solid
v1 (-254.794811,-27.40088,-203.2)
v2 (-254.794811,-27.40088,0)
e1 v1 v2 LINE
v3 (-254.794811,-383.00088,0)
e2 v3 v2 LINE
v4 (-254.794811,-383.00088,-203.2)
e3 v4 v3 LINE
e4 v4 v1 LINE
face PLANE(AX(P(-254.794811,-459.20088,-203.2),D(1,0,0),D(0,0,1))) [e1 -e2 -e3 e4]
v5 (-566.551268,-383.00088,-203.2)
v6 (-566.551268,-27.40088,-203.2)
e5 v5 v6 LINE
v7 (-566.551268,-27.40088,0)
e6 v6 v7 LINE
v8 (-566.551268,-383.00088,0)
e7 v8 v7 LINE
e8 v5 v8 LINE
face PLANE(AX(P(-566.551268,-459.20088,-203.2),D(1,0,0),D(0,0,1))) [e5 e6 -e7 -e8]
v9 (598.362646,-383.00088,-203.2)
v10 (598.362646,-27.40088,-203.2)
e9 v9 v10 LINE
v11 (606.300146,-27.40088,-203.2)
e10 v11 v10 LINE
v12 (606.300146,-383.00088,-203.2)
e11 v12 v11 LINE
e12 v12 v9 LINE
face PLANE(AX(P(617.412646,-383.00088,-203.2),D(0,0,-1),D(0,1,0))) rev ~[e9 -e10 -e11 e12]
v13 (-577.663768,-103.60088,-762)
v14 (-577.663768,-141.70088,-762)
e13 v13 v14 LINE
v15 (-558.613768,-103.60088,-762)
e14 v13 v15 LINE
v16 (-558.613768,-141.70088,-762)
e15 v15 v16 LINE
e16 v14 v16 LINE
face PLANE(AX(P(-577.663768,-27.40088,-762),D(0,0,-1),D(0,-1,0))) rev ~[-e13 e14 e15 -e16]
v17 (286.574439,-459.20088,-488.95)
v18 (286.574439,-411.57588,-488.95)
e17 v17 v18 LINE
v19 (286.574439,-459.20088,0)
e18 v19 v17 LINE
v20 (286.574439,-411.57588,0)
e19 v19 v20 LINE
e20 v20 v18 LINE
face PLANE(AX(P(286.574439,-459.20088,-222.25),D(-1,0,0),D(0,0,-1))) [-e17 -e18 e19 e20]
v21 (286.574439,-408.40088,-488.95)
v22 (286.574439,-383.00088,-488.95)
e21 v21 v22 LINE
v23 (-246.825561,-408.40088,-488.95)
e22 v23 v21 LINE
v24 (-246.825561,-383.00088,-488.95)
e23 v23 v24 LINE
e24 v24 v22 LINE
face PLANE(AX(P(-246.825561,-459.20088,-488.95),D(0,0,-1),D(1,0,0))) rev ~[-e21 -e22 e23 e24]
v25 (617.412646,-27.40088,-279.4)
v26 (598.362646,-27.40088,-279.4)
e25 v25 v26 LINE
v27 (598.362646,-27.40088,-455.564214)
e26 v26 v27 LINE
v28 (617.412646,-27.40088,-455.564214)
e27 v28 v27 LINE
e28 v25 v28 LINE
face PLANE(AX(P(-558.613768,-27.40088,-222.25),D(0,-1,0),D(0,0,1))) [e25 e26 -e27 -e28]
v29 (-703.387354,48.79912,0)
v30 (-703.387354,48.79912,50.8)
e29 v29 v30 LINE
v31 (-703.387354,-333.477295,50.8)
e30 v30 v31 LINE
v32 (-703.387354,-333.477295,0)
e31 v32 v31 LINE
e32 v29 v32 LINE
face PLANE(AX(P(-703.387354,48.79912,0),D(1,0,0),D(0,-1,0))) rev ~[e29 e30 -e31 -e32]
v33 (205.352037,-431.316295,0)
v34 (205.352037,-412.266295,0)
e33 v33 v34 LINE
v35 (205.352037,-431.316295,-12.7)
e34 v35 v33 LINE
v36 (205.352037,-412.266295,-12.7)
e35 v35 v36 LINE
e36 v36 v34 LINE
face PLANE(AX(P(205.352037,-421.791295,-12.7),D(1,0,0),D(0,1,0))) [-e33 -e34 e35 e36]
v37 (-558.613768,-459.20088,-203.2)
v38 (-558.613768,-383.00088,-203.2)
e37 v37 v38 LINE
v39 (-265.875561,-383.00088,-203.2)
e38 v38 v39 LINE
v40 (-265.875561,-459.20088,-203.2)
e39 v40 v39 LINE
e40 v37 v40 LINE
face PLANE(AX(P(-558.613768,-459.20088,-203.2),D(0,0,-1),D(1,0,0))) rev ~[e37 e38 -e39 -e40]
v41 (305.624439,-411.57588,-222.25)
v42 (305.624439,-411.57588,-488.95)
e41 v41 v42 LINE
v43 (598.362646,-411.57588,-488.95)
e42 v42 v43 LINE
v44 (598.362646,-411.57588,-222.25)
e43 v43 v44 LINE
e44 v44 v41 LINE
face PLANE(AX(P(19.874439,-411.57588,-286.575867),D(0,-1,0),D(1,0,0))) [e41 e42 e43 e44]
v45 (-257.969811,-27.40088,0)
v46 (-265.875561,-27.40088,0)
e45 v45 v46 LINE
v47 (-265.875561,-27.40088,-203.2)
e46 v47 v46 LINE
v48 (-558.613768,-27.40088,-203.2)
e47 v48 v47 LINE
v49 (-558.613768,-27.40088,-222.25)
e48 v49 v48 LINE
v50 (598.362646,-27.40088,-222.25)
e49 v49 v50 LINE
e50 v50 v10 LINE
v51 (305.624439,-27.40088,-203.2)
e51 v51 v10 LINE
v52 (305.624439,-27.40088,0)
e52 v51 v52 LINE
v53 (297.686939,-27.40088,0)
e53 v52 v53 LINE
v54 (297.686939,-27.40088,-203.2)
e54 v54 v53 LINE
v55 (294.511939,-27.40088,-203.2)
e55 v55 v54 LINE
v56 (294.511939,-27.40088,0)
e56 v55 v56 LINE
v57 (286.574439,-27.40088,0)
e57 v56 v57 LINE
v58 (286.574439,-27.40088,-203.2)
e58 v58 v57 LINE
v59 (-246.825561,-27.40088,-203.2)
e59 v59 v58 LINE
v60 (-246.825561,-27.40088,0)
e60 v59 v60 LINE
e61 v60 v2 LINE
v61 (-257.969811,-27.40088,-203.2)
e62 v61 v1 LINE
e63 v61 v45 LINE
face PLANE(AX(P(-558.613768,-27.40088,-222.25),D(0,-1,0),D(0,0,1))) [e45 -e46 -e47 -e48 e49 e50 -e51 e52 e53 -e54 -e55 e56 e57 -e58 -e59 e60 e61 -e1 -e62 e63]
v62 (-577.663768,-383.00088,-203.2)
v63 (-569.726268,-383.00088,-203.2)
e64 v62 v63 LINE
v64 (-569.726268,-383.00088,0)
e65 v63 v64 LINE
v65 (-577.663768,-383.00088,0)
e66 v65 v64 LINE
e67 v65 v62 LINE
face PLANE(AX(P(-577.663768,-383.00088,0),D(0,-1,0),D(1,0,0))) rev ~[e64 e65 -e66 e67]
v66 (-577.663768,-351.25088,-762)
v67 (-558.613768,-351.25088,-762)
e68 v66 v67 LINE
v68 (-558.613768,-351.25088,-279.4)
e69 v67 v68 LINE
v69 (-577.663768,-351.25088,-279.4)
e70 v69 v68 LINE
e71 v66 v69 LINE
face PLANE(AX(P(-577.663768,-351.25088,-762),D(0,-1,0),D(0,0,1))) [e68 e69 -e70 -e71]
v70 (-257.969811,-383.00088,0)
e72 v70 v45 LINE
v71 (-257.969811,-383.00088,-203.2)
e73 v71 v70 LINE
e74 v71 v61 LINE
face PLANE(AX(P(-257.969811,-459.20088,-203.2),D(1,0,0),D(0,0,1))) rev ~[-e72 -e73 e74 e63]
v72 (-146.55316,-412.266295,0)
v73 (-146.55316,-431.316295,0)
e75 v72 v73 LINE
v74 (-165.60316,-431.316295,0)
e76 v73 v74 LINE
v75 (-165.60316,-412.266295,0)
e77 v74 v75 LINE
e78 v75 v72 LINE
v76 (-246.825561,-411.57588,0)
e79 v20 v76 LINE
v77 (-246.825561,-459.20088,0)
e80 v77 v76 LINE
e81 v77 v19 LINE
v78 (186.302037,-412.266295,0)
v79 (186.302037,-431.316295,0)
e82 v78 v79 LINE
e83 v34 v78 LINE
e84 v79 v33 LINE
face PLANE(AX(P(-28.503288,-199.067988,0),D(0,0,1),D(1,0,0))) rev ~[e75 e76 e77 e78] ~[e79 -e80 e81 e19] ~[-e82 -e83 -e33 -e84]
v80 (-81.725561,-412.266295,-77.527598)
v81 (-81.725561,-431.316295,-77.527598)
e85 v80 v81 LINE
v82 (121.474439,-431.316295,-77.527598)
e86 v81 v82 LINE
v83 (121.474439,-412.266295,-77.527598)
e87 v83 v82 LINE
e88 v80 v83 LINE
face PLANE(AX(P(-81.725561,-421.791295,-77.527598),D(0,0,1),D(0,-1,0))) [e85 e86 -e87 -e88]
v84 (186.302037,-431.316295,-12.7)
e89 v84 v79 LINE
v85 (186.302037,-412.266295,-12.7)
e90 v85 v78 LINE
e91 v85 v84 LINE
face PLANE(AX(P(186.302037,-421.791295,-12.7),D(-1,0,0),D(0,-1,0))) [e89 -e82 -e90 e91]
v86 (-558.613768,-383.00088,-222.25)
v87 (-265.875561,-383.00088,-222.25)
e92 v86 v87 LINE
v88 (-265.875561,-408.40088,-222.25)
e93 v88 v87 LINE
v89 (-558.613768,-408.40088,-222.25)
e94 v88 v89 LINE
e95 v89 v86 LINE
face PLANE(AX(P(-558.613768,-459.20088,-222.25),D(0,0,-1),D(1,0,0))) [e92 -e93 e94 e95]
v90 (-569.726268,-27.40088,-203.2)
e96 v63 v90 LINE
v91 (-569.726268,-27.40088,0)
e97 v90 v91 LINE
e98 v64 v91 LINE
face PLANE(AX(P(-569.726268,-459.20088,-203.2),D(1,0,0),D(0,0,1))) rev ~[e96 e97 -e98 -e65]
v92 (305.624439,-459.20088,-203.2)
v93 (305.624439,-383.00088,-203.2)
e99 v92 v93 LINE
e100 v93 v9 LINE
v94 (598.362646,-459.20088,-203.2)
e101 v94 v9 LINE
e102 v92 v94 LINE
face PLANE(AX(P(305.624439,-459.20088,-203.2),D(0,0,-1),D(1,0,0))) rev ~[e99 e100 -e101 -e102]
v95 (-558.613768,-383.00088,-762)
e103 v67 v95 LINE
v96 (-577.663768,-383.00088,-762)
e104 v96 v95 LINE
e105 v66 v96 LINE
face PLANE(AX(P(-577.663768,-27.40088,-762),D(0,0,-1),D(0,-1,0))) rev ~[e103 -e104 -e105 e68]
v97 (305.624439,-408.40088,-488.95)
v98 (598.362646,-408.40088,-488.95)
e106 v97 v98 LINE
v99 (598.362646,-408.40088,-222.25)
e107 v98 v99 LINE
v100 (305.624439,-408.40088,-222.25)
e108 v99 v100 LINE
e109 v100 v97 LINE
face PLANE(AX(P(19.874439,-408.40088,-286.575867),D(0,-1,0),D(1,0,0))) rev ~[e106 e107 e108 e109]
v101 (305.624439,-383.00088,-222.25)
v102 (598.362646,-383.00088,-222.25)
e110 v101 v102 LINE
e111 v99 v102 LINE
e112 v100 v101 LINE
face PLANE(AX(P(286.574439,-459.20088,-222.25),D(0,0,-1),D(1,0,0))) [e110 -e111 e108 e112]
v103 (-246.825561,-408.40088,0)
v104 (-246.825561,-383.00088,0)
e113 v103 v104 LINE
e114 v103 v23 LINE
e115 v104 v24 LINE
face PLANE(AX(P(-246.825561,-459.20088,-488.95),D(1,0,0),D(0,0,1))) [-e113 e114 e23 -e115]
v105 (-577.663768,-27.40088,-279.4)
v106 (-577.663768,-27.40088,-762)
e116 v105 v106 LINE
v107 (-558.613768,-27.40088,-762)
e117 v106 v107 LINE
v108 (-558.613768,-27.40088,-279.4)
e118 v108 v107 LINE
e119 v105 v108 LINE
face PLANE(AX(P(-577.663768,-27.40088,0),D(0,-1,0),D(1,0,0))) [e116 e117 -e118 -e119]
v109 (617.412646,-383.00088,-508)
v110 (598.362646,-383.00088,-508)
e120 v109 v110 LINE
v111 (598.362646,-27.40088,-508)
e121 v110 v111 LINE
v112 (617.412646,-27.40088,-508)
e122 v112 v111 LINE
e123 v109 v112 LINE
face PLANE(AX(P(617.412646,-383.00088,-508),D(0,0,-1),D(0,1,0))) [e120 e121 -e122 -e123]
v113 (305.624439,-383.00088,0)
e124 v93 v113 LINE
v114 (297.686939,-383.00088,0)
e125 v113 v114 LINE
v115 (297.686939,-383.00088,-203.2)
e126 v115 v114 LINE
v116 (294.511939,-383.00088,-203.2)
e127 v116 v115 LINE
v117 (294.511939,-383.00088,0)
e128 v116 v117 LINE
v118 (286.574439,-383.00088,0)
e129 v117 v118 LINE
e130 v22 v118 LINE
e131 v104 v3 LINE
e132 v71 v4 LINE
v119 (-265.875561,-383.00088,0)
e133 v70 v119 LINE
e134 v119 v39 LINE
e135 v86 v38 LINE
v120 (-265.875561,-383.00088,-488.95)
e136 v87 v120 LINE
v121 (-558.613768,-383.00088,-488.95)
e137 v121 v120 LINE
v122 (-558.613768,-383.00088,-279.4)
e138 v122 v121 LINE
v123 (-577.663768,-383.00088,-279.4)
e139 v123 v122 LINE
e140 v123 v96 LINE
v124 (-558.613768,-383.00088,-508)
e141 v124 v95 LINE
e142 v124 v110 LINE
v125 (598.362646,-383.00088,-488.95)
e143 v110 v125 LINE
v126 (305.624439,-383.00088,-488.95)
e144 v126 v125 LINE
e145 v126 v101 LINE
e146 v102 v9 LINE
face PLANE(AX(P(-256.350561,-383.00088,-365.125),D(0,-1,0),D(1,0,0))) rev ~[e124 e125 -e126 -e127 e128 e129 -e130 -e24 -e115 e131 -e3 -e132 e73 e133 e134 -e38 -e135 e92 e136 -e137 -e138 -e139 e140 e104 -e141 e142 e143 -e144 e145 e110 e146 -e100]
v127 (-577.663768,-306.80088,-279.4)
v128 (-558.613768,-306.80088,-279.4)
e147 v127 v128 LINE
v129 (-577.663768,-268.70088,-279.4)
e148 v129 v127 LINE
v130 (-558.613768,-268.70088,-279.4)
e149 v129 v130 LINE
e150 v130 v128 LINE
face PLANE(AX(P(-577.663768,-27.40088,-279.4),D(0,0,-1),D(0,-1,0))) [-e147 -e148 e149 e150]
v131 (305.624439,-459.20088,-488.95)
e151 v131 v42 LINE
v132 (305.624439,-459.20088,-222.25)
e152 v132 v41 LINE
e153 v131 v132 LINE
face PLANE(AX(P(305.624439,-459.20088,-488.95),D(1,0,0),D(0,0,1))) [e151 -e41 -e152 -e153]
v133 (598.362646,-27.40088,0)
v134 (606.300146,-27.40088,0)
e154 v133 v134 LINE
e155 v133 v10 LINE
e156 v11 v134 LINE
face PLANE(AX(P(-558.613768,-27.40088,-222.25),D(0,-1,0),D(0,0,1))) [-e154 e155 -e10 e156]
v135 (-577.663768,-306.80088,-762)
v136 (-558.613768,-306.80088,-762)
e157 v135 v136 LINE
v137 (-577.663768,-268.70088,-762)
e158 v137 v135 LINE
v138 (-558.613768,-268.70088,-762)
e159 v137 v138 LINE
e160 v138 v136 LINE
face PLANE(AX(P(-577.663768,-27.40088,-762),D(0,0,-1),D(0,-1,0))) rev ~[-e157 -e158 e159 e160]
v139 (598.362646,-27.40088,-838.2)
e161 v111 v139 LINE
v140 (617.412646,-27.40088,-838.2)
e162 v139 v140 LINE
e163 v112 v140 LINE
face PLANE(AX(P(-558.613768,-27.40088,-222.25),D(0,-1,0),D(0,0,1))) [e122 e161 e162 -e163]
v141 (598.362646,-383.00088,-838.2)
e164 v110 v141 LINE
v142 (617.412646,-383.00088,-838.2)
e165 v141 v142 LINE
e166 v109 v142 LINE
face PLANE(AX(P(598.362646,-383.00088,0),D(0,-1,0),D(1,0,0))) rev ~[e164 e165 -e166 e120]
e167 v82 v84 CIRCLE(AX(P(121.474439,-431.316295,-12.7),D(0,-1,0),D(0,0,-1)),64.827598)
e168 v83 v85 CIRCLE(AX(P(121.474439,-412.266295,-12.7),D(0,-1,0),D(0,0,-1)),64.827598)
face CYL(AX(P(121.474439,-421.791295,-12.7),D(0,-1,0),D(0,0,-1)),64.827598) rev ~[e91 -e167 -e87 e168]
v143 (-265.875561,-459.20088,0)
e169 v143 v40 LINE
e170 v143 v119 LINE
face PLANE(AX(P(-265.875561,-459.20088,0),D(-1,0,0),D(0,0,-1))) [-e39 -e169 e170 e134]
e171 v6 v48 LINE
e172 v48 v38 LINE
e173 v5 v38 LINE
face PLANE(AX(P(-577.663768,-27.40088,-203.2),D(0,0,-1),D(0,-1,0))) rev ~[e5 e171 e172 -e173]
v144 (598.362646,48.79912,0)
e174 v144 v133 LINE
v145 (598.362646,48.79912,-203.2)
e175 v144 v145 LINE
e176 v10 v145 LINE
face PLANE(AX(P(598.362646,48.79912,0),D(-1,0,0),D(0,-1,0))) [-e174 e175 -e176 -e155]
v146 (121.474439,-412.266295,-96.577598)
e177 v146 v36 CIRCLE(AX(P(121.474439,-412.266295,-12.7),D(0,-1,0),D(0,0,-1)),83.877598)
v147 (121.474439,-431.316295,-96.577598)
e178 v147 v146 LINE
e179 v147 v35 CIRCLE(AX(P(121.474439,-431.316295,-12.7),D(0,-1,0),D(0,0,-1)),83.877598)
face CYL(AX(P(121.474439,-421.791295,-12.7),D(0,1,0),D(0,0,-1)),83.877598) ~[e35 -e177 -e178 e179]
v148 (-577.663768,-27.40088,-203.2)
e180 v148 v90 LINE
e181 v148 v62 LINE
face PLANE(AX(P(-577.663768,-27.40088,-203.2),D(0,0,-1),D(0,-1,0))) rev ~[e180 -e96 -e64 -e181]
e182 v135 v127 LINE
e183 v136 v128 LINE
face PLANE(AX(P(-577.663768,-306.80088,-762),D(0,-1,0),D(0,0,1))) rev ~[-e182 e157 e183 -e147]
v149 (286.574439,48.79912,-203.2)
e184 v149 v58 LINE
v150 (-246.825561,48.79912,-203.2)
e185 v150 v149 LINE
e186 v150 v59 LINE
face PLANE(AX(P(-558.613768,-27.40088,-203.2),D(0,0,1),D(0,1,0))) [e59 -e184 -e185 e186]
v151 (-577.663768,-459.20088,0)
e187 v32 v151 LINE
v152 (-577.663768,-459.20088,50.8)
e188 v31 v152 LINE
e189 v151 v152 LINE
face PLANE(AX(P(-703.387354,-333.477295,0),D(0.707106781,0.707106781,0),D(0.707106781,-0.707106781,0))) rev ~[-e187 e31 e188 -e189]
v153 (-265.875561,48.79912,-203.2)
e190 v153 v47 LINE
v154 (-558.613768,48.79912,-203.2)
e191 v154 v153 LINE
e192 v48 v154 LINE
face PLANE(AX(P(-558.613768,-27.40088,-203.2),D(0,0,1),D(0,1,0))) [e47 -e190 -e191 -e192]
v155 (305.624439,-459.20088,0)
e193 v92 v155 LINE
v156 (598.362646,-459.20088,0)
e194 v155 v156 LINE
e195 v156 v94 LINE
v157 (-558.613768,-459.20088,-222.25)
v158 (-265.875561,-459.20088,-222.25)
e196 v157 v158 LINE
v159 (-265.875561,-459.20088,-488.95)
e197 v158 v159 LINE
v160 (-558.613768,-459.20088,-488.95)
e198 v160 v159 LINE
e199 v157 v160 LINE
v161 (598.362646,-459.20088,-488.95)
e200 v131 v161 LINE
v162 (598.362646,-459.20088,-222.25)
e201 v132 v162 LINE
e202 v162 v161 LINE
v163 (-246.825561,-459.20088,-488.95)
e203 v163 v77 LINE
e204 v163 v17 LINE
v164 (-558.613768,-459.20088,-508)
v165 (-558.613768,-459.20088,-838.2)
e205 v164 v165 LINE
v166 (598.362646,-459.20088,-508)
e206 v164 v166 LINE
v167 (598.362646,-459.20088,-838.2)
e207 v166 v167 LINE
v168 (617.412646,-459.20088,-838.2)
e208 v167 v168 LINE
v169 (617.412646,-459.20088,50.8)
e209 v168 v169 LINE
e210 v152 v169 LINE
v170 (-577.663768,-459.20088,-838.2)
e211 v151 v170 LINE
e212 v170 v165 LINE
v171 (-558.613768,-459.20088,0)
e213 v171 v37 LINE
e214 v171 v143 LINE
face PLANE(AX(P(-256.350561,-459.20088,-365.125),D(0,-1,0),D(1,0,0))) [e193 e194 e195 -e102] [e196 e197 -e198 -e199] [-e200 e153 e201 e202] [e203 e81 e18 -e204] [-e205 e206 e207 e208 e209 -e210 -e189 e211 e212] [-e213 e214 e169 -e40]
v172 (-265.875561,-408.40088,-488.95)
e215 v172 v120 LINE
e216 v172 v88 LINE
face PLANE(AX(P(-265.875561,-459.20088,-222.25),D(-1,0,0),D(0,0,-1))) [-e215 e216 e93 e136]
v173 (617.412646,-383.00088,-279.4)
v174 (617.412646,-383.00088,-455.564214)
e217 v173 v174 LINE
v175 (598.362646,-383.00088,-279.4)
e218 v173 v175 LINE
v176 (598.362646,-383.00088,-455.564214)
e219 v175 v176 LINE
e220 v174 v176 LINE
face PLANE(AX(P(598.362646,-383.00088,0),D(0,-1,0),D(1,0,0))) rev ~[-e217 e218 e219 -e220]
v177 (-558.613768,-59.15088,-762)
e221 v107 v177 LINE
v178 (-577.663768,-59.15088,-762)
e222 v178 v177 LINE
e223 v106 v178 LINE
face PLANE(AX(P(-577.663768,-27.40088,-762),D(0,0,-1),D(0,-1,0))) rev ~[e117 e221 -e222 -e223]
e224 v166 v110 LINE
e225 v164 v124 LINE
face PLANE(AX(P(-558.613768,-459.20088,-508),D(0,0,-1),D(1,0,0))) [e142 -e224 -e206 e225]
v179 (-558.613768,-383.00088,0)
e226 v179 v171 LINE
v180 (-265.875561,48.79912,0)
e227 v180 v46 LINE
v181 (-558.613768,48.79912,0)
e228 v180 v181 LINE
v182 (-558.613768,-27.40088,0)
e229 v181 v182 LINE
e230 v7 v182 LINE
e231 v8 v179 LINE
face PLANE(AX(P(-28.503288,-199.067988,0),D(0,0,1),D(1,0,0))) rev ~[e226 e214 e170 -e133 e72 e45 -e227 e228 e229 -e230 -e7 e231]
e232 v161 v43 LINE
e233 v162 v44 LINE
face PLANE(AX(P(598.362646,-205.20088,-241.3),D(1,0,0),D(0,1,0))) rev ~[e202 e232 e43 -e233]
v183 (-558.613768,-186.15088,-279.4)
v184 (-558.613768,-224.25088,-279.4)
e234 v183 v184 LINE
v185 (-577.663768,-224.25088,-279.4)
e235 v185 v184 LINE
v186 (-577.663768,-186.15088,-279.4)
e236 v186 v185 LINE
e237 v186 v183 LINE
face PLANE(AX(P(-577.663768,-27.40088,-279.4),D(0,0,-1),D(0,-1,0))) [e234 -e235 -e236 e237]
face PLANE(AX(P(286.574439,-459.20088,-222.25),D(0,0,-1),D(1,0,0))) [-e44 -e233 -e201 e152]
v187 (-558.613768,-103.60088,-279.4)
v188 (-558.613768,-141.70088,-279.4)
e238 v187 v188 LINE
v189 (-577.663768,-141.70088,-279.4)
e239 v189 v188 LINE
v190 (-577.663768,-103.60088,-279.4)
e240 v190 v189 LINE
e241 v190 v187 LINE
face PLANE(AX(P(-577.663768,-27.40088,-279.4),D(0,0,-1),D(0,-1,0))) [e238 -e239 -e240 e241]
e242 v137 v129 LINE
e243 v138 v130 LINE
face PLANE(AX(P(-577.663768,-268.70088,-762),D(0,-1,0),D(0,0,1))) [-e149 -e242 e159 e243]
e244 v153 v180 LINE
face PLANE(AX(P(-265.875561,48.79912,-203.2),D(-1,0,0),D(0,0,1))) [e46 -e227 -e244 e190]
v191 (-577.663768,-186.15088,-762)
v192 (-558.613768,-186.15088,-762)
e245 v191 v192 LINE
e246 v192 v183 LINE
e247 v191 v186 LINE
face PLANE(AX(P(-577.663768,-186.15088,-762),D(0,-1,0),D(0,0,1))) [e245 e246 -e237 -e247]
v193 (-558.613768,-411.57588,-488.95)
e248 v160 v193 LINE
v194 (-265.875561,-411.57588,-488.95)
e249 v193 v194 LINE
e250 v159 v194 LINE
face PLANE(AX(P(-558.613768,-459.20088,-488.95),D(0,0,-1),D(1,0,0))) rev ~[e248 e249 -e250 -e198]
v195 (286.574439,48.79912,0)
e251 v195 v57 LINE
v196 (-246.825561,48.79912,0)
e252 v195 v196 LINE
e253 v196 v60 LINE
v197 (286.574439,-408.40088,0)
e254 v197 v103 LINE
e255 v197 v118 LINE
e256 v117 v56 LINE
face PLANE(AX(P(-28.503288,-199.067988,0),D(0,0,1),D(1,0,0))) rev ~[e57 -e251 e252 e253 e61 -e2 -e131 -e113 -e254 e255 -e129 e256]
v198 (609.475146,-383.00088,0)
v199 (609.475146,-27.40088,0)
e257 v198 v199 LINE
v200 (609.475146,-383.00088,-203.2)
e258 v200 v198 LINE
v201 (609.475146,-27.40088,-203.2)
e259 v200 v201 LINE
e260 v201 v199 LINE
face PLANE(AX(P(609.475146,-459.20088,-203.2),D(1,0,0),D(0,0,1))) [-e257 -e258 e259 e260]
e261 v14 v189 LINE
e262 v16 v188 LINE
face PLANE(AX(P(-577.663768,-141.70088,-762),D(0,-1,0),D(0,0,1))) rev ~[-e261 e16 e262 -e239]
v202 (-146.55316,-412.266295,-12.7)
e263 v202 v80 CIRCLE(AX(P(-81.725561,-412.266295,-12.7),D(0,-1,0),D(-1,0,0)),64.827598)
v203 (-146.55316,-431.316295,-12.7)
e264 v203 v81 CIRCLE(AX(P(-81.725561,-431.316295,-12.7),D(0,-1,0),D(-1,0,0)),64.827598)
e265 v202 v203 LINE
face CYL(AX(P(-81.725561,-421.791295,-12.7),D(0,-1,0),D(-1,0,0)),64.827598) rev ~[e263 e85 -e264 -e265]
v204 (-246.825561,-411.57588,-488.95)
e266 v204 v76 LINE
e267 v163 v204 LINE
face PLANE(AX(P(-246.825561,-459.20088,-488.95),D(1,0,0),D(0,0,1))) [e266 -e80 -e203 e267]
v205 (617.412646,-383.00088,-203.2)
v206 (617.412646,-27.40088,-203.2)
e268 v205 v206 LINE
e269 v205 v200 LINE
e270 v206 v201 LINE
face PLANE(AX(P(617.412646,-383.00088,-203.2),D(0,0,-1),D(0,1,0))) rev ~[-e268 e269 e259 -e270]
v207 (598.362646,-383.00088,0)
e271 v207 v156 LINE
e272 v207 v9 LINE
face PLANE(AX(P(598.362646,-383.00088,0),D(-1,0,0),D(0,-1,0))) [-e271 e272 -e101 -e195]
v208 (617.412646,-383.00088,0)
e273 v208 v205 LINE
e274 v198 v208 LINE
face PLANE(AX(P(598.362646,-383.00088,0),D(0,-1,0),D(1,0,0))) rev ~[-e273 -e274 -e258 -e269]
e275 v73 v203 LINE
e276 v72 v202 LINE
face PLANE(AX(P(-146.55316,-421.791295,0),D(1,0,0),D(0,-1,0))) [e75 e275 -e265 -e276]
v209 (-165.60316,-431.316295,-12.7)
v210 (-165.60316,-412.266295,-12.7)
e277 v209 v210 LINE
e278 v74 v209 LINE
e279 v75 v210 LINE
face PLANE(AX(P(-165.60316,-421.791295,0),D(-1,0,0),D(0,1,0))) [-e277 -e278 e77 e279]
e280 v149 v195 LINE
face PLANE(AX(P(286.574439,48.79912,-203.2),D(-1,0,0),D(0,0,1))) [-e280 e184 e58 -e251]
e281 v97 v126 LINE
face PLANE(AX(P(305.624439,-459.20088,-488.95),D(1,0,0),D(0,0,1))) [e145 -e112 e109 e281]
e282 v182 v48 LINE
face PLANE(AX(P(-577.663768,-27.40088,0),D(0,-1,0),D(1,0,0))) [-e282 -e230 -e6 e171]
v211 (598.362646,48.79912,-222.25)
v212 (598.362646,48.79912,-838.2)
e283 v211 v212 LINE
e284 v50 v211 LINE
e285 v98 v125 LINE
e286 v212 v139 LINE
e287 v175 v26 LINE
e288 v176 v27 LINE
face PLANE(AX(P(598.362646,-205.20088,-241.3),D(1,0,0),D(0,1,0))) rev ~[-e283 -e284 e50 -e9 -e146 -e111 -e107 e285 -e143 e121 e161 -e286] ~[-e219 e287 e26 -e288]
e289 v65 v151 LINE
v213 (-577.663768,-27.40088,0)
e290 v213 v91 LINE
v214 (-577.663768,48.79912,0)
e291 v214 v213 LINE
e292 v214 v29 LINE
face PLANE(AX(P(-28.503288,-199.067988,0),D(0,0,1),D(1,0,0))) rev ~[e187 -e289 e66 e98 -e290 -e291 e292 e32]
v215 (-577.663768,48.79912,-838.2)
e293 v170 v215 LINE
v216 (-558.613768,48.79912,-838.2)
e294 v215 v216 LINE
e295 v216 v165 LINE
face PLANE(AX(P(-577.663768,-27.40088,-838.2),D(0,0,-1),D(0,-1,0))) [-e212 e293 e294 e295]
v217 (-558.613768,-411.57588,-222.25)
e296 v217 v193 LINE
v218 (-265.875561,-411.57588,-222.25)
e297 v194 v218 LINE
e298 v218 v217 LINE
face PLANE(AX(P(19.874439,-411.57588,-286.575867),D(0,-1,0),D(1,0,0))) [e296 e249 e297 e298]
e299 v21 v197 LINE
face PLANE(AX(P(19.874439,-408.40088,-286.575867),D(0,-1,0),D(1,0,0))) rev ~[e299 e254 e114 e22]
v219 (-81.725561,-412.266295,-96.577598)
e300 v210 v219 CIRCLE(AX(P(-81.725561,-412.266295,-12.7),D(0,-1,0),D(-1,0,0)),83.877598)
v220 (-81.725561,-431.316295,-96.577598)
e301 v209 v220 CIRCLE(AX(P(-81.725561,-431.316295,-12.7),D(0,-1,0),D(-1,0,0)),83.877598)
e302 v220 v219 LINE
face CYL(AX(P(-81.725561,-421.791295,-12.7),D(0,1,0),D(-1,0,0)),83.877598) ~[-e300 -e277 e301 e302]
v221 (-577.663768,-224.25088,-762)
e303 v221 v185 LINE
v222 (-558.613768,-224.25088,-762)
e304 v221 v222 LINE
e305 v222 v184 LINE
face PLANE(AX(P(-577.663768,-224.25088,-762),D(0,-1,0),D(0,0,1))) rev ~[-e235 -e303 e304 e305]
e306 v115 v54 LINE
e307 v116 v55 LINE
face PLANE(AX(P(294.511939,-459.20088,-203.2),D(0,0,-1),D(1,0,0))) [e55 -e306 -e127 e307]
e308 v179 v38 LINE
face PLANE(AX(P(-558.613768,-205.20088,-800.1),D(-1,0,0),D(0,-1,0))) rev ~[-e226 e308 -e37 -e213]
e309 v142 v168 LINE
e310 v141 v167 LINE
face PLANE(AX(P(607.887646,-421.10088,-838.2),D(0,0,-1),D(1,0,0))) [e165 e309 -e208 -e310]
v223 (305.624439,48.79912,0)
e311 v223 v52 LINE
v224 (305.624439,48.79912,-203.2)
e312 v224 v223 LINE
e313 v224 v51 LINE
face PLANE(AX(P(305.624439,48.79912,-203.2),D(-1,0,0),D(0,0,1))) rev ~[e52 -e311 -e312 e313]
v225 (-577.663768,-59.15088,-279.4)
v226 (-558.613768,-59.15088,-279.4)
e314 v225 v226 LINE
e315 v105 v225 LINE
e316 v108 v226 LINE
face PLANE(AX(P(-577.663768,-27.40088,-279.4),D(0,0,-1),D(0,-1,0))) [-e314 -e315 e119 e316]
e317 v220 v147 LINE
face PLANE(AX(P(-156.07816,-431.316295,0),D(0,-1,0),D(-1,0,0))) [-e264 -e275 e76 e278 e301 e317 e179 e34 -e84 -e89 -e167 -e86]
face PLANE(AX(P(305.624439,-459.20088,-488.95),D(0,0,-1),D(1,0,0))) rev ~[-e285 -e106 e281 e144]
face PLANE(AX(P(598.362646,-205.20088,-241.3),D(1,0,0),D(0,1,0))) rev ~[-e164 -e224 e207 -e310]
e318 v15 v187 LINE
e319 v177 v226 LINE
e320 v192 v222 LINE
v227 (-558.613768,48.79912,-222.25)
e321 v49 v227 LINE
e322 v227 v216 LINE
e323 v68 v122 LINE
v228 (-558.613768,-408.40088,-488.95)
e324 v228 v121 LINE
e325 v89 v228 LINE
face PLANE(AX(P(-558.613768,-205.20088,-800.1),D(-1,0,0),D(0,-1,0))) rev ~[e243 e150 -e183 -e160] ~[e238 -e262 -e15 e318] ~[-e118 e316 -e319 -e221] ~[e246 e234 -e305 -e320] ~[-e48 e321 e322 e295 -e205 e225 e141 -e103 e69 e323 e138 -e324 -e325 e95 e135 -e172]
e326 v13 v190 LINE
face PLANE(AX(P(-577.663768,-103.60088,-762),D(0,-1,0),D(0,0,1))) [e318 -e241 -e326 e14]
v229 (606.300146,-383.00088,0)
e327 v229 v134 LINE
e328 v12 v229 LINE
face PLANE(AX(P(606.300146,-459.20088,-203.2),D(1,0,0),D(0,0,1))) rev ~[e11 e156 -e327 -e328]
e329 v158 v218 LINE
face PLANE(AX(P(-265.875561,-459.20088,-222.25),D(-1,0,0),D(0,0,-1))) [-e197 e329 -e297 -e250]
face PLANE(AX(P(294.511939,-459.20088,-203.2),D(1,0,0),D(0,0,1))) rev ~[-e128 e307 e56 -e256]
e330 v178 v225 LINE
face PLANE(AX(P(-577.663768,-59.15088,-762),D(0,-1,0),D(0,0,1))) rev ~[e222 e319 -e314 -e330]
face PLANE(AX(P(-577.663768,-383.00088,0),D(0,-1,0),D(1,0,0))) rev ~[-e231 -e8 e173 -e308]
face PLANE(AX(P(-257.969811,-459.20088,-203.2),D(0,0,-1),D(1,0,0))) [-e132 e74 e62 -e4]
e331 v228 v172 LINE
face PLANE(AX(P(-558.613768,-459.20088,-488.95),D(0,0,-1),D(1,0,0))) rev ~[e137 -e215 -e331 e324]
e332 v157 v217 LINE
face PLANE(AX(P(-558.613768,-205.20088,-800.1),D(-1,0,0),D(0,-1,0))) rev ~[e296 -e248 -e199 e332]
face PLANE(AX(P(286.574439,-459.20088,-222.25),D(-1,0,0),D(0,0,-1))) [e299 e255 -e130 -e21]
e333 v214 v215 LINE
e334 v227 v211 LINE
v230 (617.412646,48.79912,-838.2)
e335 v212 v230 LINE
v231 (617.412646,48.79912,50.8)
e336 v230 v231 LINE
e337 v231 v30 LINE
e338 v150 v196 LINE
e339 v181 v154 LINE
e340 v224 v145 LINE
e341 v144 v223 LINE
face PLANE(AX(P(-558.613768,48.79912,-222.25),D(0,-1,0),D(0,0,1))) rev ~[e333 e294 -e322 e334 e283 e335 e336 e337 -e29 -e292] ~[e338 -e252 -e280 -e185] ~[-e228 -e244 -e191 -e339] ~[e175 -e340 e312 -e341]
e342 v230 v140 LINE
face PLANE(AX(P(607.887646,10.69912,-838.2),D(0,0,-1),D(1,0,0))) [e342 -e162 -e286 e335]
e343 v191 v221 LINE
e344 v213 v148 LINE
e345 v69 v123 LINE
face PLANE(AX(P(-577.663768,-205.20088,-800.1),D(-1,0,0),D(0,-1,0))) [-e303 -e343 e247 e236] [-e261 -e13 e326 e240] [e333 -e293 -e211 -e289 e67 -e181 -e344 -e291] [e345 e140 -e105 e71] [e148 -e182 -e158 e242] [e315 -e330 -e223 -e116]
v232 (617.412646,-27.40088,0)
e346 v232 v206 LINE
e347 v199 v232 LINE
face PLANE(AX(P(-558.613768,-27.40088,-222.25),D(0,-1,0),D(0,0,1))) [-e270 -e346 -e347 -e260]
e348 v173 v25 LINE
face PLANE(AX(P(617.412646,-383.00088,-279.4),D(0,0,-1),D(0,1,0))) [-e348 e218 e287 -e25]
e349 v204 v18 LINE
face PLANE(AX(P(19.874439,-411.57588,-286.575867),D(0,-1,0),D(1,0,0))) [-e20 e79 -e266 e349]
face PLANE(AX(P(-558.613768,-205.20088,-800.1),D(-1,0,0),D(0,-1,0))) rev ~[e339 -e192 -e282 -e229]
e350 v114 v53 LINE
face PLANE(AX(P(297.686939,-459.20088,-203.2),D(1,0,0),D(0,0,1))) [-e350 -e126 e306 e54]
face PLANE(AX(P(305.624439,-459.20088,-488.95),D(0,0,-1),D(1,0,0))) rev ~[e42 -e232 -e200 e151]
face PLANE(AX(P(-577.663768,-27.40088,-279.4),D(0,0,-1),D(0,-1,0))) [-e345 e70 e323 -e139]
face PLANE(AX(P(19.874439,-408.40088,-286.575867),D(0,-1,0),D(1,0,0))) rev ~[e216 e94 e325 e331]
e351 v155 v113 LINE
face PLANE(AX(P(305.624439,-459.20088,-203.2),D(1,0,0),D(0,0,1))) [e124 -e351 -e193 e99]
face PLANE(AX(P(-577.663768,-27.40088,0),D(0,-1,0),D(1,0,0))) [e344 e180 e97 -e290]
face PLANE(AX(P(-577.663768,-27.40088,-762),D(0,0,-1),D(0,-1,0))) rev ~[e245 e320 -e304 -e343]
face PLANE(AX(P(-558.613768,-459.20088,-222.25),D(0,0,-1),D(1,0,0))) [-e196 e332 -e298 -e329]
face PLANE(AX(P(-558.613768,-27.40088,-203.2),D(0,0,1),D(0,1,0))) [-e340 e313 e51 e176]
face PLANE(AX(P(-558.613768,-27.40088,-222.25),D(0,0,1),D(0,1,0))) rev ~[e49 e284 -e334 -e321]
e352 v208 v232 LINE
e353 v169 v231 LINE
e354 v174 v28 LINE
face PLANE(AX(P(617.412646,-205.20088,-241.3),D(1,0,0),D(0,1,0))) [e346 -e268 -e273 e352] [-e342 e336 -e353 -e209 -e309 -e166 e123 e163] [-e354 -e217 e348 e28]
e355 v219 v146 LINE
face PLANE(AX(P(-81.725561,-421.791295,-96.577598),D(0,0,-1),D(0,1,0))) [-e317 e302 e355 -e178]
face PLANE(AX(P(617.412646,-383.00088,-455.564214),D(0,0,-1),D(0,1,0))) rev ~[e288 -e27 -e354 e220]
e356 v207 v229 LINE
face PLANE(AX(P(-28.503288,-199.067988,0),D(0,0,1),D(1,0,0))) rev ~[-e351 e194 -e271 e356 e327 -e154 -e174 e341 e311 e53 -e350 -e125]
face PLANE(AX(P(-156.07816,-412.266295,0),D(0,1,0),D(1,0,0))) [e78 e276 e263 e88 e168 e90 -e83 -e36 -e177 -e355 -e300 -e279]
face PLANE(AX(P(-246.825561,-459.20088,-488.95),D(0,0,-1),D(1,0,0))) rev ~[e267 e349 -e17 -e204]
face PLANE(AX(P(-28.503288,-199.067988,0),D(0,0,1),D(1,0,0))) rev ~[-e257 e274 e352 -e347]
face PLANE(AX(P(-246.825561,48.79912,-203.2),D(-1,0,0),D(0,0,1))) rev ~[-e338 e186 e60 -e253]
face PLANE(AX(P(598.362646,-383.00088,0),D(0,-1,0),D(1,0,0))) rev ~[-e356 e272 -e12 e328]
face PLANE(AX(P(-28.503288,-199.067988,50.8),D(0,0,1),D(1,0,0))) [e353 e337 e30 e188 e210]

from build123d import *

# Parameters (mm, degrees)
F1_DEPTH  = 50.8
F2_W      = 19.05
F2_H      = 76.2
F3_DEPTH  = 838.2
F4_W      = 355.6
F4_H      = 76.2
F5_DEPTH  = 19.05
F6_W      = 44.45
F6_H      = 482.6
F7_DEPTH  = 19.05
F9_W      = 76.2
F9_H      = 19.05
F10_DEPTH = 1156.976414305
F8_W      = 292.7382071525
F8_H      = 19.05
F11_DEPTH = 76.2
F12_W     = 19.05
F12_H     = 203.2
F13_DEPTH = 76.2
F14_W     = 3.175
F14_H     = 203.2
F15_DEPTH = 431.8
F16_W     = 355.6
F16_H     = 76.2
F16_H_2   = 52.435785675
F17_DEPTH = 19.05
F20_W     = 19.05
F20_H     = 19.05
F22_W     = 533.4
F22_H     = 19.05
F22_W_2   = 292.7382071525
F23_DEPTH = 76.2
F25_DEPTH = 3.175


with BuildPart() as f1:
    # F0 (on Top) → F1 (new body)
    with BuildSketch(Plane.XY):
        Polygon((617.4126458168, 48.7991196131), (-703.3873541832, 48.7991196131), (-703.3873541832, -333.4772946919), (-577.6637684882, -459.2008803869), (617.4126458168, -459.2008803869), align=None)
    extrude(amount=F1_DEPTH)

    # F2 (on face) → F3 (join)
    with BuildSketch(Plane(origin=(0, 0, 0), x_dir=(1, 0, 0), z_dir=(0, 0, -1))):
        with Locations((607.8876458168, 421.1008803869)):
            Rectangle(F2_W, F2_H)
        with Locations((607.8876458168, -10.6991196131)):
            Rectangle(F2_W, F2_H)
        with Locations((-568.1387684882, 421.1008803869)):
            Rectangle(F2_W, F2_H)
        with Locations((-568.1387684882, -10.6991196131)):
            Rectangle(F2_W, F2_H)
    extrude(amount=F3_DEPTH)

    # F4 (on face) → F5 (join)
    with BuildSketch(Plane(origin=(-577.6637684882, 0, 0), x_dir=(0, -1, 0), z_dir=(-1, 0, 0))):
        with Locations((205.2008803869, -241.3)):
            Rectangle(F4_W, F4_H)
        with Locations((205.2008803869, -800.1)):
            Rectangle(F4_W, F4_H)
    extrude(amount=-F5_DEPTH)

    # F6 (on face) → F7 (join, through all)
    with BuildSketch(Plane(origin=(-577.6637684882, 0, 0), x_dir=(0, -1, 0), z_dir=(-1, 0, 0))):
        with Locations((81.3758803869, -520.7)):
            Rectangle(F6_W, F6_H)
        with Locations((163.9258803869, -520.7)):
            Rectangle(F6_W, F6_H)
        with Locations((246.4758803869, -520.7)):
            Rectangle(F6_W, F6_H)
        with Locations((329.0258803869, -520.7)):
            Rectangle(F6_W, F6_H)
    extrude(amount=-F7_DEPTH)

    # F9 (on face) → F10 (join, through all)
    with BuildSketch(Plane.YZ.offset(-558.6137684882)):
        with Locations((10.6991196131, -212.725)):
            Rectangle(F9_W, F9_H)
    extrude(amount=F10_DEPTH)

    # F8 (on face) → F11 (join)
    with BuildSketch(Plane.XZ.offset(459.2008803869)):
        Polygon((-246.8255613357, 0), (-265.8755613357, 0), (-265.8755613357, -203.2), (-265.8755613357, -222.25), (-246.8255613357, -222.25), align=None)
        with Locations((-412.244664912, -212.725)):
            Rectangle(F8_W, F8_H)
        Polygon((305.6244386643, 0), (286.5744386643, 0), (286.5744386643, -222.25), (305.6244386643, -222.25), (305.6244386643, -203.2), align=None)
        with Locations((451.9935422405, -212.725)):
            Rectangle(F8_W, F8_H)
    extrude(amount=-F11_DEPTH)

    # F12 (on face) → F13 (join)
    with BuildSketch(Plane(origin=(0, 48.7991196131, 0), x_dir=(-1, 0, 0), z_dir=(0, 1, 0))):
        with Locations((-296.0994386643, -101.6)):
            Rectangle(F12_W, F12_H)
        with Locations((256.3505613357, -101.6)):
            Rectangle(F12_W, F12_H)
    extrude(amount=-F13_DEPTH)

    # F14 (on face) → F15 (join, through all)
    with BuildSketch(Plane.XZ.offset(459.2008803869)):
        with Locations((-568.1387684882, -101.6)):
            Rectangle(F14_W, F14_H)
        with Locations((-256.3823113357, -101.6)):
            Rectangle(F14_W, F14_H)
        with Locations((296.0994386643, -101.6)):
            Rectangle(F14_W, F14_H)
        with Locations((607.8876458168, -101.6)):
            Rectangle(F14_W, F14_H)
    extrude(amount=-F15_DEPTH)

    # F16 (on face) → F17 (join)
    with BuildSketch(Plane.YZ.offset(617.4126458168)):
        with Locations((-205.2008803869, -241.3)):
            Rectangle(F16_W, F16_H)
        with Locations((-205.2008803869, -481.7821071625)):
            Rectangle(F16_W, F16_H_2)
    extrude(amount=-F17_DEPTH)

    # F21: sweep along a path in F19
    with BuildLine(Plane.XZ.offset(408.4008803869)) as f21_path:
        Line((-145.2255613357, 0), (-145.2255613357, -12.7))
        ThreePointArc((-145.2255613357, -12.7), (-126.6268419411, -57.6012806053), (-81.7255613357, -76.2))
        Line((-81.7255613357, -76.2), (121.4744386643, -76.2))
        ThreePointArc((121.4744386643, -76.2), (166.3757192696, -57.6012806053), (184.9744386643, -12.7))
        Line((184.9744386643, -12.7), (184.9744386643, 0))
    # F20 (on face) → F21 (sweep)
    with BuildSketch(Plane(origin=(0, 0, 0), x_dir=(1, 0, 0), z_dir=(0, 0, -1))):
        with Locations((-156.0781598091, 421.7912954004)):
            Rectangle(F20_W, F20_H)
    sweep(path=f21_path.line)

    # F22 (on face) → F23 (join)
    with BuildSketch(Plane.XZ.offset(459.2008803869)):
        Polygon((-246.8255613357, -488.95), (-246.8255613357, -222.25), (-265.8755613357, -222.25), (-265.8755613357, -488.95), (-265.8755613357, -508), (-246.8255613357, -508), align=None)
        with Locations((19.8744386643, -498.475)):
            Rectangle(F22_W, F22_H)
        with Locations((-412.244664912, -498.475)):
            Rectangle(F22_W_2, F22_H)
        Polygon((286.5744386643, -222.25), (286.5744386643, -488.95), (286.5744386643, -508), (305.6244386643, -508), (305.6244386643, -488.95), (305.6244386643, -222.25), align=None)
        with Locations((451.9935422405, -498.475)):
            Rectangle(F22_W_2, F22_H)
    extrude(amount=-F23_DEPTH)

    # F24 (on offset) → F25 (join)
    with BuildSketch(Plane.XZ.offset(408.4008803869)):
        Polygon((-558.6137684882, -222.25), (-558.6137684882, -488.95), (598.3626458168, -488.95), (598.3626458168, -222.25), (286.5744386643, -222.25), (286.5744386643, 0), (-246.8255613357, 0), (-246.8255613357, -222.25), align=None)
    extrude(amount=F25_DEPTH)


solid = f1.part
